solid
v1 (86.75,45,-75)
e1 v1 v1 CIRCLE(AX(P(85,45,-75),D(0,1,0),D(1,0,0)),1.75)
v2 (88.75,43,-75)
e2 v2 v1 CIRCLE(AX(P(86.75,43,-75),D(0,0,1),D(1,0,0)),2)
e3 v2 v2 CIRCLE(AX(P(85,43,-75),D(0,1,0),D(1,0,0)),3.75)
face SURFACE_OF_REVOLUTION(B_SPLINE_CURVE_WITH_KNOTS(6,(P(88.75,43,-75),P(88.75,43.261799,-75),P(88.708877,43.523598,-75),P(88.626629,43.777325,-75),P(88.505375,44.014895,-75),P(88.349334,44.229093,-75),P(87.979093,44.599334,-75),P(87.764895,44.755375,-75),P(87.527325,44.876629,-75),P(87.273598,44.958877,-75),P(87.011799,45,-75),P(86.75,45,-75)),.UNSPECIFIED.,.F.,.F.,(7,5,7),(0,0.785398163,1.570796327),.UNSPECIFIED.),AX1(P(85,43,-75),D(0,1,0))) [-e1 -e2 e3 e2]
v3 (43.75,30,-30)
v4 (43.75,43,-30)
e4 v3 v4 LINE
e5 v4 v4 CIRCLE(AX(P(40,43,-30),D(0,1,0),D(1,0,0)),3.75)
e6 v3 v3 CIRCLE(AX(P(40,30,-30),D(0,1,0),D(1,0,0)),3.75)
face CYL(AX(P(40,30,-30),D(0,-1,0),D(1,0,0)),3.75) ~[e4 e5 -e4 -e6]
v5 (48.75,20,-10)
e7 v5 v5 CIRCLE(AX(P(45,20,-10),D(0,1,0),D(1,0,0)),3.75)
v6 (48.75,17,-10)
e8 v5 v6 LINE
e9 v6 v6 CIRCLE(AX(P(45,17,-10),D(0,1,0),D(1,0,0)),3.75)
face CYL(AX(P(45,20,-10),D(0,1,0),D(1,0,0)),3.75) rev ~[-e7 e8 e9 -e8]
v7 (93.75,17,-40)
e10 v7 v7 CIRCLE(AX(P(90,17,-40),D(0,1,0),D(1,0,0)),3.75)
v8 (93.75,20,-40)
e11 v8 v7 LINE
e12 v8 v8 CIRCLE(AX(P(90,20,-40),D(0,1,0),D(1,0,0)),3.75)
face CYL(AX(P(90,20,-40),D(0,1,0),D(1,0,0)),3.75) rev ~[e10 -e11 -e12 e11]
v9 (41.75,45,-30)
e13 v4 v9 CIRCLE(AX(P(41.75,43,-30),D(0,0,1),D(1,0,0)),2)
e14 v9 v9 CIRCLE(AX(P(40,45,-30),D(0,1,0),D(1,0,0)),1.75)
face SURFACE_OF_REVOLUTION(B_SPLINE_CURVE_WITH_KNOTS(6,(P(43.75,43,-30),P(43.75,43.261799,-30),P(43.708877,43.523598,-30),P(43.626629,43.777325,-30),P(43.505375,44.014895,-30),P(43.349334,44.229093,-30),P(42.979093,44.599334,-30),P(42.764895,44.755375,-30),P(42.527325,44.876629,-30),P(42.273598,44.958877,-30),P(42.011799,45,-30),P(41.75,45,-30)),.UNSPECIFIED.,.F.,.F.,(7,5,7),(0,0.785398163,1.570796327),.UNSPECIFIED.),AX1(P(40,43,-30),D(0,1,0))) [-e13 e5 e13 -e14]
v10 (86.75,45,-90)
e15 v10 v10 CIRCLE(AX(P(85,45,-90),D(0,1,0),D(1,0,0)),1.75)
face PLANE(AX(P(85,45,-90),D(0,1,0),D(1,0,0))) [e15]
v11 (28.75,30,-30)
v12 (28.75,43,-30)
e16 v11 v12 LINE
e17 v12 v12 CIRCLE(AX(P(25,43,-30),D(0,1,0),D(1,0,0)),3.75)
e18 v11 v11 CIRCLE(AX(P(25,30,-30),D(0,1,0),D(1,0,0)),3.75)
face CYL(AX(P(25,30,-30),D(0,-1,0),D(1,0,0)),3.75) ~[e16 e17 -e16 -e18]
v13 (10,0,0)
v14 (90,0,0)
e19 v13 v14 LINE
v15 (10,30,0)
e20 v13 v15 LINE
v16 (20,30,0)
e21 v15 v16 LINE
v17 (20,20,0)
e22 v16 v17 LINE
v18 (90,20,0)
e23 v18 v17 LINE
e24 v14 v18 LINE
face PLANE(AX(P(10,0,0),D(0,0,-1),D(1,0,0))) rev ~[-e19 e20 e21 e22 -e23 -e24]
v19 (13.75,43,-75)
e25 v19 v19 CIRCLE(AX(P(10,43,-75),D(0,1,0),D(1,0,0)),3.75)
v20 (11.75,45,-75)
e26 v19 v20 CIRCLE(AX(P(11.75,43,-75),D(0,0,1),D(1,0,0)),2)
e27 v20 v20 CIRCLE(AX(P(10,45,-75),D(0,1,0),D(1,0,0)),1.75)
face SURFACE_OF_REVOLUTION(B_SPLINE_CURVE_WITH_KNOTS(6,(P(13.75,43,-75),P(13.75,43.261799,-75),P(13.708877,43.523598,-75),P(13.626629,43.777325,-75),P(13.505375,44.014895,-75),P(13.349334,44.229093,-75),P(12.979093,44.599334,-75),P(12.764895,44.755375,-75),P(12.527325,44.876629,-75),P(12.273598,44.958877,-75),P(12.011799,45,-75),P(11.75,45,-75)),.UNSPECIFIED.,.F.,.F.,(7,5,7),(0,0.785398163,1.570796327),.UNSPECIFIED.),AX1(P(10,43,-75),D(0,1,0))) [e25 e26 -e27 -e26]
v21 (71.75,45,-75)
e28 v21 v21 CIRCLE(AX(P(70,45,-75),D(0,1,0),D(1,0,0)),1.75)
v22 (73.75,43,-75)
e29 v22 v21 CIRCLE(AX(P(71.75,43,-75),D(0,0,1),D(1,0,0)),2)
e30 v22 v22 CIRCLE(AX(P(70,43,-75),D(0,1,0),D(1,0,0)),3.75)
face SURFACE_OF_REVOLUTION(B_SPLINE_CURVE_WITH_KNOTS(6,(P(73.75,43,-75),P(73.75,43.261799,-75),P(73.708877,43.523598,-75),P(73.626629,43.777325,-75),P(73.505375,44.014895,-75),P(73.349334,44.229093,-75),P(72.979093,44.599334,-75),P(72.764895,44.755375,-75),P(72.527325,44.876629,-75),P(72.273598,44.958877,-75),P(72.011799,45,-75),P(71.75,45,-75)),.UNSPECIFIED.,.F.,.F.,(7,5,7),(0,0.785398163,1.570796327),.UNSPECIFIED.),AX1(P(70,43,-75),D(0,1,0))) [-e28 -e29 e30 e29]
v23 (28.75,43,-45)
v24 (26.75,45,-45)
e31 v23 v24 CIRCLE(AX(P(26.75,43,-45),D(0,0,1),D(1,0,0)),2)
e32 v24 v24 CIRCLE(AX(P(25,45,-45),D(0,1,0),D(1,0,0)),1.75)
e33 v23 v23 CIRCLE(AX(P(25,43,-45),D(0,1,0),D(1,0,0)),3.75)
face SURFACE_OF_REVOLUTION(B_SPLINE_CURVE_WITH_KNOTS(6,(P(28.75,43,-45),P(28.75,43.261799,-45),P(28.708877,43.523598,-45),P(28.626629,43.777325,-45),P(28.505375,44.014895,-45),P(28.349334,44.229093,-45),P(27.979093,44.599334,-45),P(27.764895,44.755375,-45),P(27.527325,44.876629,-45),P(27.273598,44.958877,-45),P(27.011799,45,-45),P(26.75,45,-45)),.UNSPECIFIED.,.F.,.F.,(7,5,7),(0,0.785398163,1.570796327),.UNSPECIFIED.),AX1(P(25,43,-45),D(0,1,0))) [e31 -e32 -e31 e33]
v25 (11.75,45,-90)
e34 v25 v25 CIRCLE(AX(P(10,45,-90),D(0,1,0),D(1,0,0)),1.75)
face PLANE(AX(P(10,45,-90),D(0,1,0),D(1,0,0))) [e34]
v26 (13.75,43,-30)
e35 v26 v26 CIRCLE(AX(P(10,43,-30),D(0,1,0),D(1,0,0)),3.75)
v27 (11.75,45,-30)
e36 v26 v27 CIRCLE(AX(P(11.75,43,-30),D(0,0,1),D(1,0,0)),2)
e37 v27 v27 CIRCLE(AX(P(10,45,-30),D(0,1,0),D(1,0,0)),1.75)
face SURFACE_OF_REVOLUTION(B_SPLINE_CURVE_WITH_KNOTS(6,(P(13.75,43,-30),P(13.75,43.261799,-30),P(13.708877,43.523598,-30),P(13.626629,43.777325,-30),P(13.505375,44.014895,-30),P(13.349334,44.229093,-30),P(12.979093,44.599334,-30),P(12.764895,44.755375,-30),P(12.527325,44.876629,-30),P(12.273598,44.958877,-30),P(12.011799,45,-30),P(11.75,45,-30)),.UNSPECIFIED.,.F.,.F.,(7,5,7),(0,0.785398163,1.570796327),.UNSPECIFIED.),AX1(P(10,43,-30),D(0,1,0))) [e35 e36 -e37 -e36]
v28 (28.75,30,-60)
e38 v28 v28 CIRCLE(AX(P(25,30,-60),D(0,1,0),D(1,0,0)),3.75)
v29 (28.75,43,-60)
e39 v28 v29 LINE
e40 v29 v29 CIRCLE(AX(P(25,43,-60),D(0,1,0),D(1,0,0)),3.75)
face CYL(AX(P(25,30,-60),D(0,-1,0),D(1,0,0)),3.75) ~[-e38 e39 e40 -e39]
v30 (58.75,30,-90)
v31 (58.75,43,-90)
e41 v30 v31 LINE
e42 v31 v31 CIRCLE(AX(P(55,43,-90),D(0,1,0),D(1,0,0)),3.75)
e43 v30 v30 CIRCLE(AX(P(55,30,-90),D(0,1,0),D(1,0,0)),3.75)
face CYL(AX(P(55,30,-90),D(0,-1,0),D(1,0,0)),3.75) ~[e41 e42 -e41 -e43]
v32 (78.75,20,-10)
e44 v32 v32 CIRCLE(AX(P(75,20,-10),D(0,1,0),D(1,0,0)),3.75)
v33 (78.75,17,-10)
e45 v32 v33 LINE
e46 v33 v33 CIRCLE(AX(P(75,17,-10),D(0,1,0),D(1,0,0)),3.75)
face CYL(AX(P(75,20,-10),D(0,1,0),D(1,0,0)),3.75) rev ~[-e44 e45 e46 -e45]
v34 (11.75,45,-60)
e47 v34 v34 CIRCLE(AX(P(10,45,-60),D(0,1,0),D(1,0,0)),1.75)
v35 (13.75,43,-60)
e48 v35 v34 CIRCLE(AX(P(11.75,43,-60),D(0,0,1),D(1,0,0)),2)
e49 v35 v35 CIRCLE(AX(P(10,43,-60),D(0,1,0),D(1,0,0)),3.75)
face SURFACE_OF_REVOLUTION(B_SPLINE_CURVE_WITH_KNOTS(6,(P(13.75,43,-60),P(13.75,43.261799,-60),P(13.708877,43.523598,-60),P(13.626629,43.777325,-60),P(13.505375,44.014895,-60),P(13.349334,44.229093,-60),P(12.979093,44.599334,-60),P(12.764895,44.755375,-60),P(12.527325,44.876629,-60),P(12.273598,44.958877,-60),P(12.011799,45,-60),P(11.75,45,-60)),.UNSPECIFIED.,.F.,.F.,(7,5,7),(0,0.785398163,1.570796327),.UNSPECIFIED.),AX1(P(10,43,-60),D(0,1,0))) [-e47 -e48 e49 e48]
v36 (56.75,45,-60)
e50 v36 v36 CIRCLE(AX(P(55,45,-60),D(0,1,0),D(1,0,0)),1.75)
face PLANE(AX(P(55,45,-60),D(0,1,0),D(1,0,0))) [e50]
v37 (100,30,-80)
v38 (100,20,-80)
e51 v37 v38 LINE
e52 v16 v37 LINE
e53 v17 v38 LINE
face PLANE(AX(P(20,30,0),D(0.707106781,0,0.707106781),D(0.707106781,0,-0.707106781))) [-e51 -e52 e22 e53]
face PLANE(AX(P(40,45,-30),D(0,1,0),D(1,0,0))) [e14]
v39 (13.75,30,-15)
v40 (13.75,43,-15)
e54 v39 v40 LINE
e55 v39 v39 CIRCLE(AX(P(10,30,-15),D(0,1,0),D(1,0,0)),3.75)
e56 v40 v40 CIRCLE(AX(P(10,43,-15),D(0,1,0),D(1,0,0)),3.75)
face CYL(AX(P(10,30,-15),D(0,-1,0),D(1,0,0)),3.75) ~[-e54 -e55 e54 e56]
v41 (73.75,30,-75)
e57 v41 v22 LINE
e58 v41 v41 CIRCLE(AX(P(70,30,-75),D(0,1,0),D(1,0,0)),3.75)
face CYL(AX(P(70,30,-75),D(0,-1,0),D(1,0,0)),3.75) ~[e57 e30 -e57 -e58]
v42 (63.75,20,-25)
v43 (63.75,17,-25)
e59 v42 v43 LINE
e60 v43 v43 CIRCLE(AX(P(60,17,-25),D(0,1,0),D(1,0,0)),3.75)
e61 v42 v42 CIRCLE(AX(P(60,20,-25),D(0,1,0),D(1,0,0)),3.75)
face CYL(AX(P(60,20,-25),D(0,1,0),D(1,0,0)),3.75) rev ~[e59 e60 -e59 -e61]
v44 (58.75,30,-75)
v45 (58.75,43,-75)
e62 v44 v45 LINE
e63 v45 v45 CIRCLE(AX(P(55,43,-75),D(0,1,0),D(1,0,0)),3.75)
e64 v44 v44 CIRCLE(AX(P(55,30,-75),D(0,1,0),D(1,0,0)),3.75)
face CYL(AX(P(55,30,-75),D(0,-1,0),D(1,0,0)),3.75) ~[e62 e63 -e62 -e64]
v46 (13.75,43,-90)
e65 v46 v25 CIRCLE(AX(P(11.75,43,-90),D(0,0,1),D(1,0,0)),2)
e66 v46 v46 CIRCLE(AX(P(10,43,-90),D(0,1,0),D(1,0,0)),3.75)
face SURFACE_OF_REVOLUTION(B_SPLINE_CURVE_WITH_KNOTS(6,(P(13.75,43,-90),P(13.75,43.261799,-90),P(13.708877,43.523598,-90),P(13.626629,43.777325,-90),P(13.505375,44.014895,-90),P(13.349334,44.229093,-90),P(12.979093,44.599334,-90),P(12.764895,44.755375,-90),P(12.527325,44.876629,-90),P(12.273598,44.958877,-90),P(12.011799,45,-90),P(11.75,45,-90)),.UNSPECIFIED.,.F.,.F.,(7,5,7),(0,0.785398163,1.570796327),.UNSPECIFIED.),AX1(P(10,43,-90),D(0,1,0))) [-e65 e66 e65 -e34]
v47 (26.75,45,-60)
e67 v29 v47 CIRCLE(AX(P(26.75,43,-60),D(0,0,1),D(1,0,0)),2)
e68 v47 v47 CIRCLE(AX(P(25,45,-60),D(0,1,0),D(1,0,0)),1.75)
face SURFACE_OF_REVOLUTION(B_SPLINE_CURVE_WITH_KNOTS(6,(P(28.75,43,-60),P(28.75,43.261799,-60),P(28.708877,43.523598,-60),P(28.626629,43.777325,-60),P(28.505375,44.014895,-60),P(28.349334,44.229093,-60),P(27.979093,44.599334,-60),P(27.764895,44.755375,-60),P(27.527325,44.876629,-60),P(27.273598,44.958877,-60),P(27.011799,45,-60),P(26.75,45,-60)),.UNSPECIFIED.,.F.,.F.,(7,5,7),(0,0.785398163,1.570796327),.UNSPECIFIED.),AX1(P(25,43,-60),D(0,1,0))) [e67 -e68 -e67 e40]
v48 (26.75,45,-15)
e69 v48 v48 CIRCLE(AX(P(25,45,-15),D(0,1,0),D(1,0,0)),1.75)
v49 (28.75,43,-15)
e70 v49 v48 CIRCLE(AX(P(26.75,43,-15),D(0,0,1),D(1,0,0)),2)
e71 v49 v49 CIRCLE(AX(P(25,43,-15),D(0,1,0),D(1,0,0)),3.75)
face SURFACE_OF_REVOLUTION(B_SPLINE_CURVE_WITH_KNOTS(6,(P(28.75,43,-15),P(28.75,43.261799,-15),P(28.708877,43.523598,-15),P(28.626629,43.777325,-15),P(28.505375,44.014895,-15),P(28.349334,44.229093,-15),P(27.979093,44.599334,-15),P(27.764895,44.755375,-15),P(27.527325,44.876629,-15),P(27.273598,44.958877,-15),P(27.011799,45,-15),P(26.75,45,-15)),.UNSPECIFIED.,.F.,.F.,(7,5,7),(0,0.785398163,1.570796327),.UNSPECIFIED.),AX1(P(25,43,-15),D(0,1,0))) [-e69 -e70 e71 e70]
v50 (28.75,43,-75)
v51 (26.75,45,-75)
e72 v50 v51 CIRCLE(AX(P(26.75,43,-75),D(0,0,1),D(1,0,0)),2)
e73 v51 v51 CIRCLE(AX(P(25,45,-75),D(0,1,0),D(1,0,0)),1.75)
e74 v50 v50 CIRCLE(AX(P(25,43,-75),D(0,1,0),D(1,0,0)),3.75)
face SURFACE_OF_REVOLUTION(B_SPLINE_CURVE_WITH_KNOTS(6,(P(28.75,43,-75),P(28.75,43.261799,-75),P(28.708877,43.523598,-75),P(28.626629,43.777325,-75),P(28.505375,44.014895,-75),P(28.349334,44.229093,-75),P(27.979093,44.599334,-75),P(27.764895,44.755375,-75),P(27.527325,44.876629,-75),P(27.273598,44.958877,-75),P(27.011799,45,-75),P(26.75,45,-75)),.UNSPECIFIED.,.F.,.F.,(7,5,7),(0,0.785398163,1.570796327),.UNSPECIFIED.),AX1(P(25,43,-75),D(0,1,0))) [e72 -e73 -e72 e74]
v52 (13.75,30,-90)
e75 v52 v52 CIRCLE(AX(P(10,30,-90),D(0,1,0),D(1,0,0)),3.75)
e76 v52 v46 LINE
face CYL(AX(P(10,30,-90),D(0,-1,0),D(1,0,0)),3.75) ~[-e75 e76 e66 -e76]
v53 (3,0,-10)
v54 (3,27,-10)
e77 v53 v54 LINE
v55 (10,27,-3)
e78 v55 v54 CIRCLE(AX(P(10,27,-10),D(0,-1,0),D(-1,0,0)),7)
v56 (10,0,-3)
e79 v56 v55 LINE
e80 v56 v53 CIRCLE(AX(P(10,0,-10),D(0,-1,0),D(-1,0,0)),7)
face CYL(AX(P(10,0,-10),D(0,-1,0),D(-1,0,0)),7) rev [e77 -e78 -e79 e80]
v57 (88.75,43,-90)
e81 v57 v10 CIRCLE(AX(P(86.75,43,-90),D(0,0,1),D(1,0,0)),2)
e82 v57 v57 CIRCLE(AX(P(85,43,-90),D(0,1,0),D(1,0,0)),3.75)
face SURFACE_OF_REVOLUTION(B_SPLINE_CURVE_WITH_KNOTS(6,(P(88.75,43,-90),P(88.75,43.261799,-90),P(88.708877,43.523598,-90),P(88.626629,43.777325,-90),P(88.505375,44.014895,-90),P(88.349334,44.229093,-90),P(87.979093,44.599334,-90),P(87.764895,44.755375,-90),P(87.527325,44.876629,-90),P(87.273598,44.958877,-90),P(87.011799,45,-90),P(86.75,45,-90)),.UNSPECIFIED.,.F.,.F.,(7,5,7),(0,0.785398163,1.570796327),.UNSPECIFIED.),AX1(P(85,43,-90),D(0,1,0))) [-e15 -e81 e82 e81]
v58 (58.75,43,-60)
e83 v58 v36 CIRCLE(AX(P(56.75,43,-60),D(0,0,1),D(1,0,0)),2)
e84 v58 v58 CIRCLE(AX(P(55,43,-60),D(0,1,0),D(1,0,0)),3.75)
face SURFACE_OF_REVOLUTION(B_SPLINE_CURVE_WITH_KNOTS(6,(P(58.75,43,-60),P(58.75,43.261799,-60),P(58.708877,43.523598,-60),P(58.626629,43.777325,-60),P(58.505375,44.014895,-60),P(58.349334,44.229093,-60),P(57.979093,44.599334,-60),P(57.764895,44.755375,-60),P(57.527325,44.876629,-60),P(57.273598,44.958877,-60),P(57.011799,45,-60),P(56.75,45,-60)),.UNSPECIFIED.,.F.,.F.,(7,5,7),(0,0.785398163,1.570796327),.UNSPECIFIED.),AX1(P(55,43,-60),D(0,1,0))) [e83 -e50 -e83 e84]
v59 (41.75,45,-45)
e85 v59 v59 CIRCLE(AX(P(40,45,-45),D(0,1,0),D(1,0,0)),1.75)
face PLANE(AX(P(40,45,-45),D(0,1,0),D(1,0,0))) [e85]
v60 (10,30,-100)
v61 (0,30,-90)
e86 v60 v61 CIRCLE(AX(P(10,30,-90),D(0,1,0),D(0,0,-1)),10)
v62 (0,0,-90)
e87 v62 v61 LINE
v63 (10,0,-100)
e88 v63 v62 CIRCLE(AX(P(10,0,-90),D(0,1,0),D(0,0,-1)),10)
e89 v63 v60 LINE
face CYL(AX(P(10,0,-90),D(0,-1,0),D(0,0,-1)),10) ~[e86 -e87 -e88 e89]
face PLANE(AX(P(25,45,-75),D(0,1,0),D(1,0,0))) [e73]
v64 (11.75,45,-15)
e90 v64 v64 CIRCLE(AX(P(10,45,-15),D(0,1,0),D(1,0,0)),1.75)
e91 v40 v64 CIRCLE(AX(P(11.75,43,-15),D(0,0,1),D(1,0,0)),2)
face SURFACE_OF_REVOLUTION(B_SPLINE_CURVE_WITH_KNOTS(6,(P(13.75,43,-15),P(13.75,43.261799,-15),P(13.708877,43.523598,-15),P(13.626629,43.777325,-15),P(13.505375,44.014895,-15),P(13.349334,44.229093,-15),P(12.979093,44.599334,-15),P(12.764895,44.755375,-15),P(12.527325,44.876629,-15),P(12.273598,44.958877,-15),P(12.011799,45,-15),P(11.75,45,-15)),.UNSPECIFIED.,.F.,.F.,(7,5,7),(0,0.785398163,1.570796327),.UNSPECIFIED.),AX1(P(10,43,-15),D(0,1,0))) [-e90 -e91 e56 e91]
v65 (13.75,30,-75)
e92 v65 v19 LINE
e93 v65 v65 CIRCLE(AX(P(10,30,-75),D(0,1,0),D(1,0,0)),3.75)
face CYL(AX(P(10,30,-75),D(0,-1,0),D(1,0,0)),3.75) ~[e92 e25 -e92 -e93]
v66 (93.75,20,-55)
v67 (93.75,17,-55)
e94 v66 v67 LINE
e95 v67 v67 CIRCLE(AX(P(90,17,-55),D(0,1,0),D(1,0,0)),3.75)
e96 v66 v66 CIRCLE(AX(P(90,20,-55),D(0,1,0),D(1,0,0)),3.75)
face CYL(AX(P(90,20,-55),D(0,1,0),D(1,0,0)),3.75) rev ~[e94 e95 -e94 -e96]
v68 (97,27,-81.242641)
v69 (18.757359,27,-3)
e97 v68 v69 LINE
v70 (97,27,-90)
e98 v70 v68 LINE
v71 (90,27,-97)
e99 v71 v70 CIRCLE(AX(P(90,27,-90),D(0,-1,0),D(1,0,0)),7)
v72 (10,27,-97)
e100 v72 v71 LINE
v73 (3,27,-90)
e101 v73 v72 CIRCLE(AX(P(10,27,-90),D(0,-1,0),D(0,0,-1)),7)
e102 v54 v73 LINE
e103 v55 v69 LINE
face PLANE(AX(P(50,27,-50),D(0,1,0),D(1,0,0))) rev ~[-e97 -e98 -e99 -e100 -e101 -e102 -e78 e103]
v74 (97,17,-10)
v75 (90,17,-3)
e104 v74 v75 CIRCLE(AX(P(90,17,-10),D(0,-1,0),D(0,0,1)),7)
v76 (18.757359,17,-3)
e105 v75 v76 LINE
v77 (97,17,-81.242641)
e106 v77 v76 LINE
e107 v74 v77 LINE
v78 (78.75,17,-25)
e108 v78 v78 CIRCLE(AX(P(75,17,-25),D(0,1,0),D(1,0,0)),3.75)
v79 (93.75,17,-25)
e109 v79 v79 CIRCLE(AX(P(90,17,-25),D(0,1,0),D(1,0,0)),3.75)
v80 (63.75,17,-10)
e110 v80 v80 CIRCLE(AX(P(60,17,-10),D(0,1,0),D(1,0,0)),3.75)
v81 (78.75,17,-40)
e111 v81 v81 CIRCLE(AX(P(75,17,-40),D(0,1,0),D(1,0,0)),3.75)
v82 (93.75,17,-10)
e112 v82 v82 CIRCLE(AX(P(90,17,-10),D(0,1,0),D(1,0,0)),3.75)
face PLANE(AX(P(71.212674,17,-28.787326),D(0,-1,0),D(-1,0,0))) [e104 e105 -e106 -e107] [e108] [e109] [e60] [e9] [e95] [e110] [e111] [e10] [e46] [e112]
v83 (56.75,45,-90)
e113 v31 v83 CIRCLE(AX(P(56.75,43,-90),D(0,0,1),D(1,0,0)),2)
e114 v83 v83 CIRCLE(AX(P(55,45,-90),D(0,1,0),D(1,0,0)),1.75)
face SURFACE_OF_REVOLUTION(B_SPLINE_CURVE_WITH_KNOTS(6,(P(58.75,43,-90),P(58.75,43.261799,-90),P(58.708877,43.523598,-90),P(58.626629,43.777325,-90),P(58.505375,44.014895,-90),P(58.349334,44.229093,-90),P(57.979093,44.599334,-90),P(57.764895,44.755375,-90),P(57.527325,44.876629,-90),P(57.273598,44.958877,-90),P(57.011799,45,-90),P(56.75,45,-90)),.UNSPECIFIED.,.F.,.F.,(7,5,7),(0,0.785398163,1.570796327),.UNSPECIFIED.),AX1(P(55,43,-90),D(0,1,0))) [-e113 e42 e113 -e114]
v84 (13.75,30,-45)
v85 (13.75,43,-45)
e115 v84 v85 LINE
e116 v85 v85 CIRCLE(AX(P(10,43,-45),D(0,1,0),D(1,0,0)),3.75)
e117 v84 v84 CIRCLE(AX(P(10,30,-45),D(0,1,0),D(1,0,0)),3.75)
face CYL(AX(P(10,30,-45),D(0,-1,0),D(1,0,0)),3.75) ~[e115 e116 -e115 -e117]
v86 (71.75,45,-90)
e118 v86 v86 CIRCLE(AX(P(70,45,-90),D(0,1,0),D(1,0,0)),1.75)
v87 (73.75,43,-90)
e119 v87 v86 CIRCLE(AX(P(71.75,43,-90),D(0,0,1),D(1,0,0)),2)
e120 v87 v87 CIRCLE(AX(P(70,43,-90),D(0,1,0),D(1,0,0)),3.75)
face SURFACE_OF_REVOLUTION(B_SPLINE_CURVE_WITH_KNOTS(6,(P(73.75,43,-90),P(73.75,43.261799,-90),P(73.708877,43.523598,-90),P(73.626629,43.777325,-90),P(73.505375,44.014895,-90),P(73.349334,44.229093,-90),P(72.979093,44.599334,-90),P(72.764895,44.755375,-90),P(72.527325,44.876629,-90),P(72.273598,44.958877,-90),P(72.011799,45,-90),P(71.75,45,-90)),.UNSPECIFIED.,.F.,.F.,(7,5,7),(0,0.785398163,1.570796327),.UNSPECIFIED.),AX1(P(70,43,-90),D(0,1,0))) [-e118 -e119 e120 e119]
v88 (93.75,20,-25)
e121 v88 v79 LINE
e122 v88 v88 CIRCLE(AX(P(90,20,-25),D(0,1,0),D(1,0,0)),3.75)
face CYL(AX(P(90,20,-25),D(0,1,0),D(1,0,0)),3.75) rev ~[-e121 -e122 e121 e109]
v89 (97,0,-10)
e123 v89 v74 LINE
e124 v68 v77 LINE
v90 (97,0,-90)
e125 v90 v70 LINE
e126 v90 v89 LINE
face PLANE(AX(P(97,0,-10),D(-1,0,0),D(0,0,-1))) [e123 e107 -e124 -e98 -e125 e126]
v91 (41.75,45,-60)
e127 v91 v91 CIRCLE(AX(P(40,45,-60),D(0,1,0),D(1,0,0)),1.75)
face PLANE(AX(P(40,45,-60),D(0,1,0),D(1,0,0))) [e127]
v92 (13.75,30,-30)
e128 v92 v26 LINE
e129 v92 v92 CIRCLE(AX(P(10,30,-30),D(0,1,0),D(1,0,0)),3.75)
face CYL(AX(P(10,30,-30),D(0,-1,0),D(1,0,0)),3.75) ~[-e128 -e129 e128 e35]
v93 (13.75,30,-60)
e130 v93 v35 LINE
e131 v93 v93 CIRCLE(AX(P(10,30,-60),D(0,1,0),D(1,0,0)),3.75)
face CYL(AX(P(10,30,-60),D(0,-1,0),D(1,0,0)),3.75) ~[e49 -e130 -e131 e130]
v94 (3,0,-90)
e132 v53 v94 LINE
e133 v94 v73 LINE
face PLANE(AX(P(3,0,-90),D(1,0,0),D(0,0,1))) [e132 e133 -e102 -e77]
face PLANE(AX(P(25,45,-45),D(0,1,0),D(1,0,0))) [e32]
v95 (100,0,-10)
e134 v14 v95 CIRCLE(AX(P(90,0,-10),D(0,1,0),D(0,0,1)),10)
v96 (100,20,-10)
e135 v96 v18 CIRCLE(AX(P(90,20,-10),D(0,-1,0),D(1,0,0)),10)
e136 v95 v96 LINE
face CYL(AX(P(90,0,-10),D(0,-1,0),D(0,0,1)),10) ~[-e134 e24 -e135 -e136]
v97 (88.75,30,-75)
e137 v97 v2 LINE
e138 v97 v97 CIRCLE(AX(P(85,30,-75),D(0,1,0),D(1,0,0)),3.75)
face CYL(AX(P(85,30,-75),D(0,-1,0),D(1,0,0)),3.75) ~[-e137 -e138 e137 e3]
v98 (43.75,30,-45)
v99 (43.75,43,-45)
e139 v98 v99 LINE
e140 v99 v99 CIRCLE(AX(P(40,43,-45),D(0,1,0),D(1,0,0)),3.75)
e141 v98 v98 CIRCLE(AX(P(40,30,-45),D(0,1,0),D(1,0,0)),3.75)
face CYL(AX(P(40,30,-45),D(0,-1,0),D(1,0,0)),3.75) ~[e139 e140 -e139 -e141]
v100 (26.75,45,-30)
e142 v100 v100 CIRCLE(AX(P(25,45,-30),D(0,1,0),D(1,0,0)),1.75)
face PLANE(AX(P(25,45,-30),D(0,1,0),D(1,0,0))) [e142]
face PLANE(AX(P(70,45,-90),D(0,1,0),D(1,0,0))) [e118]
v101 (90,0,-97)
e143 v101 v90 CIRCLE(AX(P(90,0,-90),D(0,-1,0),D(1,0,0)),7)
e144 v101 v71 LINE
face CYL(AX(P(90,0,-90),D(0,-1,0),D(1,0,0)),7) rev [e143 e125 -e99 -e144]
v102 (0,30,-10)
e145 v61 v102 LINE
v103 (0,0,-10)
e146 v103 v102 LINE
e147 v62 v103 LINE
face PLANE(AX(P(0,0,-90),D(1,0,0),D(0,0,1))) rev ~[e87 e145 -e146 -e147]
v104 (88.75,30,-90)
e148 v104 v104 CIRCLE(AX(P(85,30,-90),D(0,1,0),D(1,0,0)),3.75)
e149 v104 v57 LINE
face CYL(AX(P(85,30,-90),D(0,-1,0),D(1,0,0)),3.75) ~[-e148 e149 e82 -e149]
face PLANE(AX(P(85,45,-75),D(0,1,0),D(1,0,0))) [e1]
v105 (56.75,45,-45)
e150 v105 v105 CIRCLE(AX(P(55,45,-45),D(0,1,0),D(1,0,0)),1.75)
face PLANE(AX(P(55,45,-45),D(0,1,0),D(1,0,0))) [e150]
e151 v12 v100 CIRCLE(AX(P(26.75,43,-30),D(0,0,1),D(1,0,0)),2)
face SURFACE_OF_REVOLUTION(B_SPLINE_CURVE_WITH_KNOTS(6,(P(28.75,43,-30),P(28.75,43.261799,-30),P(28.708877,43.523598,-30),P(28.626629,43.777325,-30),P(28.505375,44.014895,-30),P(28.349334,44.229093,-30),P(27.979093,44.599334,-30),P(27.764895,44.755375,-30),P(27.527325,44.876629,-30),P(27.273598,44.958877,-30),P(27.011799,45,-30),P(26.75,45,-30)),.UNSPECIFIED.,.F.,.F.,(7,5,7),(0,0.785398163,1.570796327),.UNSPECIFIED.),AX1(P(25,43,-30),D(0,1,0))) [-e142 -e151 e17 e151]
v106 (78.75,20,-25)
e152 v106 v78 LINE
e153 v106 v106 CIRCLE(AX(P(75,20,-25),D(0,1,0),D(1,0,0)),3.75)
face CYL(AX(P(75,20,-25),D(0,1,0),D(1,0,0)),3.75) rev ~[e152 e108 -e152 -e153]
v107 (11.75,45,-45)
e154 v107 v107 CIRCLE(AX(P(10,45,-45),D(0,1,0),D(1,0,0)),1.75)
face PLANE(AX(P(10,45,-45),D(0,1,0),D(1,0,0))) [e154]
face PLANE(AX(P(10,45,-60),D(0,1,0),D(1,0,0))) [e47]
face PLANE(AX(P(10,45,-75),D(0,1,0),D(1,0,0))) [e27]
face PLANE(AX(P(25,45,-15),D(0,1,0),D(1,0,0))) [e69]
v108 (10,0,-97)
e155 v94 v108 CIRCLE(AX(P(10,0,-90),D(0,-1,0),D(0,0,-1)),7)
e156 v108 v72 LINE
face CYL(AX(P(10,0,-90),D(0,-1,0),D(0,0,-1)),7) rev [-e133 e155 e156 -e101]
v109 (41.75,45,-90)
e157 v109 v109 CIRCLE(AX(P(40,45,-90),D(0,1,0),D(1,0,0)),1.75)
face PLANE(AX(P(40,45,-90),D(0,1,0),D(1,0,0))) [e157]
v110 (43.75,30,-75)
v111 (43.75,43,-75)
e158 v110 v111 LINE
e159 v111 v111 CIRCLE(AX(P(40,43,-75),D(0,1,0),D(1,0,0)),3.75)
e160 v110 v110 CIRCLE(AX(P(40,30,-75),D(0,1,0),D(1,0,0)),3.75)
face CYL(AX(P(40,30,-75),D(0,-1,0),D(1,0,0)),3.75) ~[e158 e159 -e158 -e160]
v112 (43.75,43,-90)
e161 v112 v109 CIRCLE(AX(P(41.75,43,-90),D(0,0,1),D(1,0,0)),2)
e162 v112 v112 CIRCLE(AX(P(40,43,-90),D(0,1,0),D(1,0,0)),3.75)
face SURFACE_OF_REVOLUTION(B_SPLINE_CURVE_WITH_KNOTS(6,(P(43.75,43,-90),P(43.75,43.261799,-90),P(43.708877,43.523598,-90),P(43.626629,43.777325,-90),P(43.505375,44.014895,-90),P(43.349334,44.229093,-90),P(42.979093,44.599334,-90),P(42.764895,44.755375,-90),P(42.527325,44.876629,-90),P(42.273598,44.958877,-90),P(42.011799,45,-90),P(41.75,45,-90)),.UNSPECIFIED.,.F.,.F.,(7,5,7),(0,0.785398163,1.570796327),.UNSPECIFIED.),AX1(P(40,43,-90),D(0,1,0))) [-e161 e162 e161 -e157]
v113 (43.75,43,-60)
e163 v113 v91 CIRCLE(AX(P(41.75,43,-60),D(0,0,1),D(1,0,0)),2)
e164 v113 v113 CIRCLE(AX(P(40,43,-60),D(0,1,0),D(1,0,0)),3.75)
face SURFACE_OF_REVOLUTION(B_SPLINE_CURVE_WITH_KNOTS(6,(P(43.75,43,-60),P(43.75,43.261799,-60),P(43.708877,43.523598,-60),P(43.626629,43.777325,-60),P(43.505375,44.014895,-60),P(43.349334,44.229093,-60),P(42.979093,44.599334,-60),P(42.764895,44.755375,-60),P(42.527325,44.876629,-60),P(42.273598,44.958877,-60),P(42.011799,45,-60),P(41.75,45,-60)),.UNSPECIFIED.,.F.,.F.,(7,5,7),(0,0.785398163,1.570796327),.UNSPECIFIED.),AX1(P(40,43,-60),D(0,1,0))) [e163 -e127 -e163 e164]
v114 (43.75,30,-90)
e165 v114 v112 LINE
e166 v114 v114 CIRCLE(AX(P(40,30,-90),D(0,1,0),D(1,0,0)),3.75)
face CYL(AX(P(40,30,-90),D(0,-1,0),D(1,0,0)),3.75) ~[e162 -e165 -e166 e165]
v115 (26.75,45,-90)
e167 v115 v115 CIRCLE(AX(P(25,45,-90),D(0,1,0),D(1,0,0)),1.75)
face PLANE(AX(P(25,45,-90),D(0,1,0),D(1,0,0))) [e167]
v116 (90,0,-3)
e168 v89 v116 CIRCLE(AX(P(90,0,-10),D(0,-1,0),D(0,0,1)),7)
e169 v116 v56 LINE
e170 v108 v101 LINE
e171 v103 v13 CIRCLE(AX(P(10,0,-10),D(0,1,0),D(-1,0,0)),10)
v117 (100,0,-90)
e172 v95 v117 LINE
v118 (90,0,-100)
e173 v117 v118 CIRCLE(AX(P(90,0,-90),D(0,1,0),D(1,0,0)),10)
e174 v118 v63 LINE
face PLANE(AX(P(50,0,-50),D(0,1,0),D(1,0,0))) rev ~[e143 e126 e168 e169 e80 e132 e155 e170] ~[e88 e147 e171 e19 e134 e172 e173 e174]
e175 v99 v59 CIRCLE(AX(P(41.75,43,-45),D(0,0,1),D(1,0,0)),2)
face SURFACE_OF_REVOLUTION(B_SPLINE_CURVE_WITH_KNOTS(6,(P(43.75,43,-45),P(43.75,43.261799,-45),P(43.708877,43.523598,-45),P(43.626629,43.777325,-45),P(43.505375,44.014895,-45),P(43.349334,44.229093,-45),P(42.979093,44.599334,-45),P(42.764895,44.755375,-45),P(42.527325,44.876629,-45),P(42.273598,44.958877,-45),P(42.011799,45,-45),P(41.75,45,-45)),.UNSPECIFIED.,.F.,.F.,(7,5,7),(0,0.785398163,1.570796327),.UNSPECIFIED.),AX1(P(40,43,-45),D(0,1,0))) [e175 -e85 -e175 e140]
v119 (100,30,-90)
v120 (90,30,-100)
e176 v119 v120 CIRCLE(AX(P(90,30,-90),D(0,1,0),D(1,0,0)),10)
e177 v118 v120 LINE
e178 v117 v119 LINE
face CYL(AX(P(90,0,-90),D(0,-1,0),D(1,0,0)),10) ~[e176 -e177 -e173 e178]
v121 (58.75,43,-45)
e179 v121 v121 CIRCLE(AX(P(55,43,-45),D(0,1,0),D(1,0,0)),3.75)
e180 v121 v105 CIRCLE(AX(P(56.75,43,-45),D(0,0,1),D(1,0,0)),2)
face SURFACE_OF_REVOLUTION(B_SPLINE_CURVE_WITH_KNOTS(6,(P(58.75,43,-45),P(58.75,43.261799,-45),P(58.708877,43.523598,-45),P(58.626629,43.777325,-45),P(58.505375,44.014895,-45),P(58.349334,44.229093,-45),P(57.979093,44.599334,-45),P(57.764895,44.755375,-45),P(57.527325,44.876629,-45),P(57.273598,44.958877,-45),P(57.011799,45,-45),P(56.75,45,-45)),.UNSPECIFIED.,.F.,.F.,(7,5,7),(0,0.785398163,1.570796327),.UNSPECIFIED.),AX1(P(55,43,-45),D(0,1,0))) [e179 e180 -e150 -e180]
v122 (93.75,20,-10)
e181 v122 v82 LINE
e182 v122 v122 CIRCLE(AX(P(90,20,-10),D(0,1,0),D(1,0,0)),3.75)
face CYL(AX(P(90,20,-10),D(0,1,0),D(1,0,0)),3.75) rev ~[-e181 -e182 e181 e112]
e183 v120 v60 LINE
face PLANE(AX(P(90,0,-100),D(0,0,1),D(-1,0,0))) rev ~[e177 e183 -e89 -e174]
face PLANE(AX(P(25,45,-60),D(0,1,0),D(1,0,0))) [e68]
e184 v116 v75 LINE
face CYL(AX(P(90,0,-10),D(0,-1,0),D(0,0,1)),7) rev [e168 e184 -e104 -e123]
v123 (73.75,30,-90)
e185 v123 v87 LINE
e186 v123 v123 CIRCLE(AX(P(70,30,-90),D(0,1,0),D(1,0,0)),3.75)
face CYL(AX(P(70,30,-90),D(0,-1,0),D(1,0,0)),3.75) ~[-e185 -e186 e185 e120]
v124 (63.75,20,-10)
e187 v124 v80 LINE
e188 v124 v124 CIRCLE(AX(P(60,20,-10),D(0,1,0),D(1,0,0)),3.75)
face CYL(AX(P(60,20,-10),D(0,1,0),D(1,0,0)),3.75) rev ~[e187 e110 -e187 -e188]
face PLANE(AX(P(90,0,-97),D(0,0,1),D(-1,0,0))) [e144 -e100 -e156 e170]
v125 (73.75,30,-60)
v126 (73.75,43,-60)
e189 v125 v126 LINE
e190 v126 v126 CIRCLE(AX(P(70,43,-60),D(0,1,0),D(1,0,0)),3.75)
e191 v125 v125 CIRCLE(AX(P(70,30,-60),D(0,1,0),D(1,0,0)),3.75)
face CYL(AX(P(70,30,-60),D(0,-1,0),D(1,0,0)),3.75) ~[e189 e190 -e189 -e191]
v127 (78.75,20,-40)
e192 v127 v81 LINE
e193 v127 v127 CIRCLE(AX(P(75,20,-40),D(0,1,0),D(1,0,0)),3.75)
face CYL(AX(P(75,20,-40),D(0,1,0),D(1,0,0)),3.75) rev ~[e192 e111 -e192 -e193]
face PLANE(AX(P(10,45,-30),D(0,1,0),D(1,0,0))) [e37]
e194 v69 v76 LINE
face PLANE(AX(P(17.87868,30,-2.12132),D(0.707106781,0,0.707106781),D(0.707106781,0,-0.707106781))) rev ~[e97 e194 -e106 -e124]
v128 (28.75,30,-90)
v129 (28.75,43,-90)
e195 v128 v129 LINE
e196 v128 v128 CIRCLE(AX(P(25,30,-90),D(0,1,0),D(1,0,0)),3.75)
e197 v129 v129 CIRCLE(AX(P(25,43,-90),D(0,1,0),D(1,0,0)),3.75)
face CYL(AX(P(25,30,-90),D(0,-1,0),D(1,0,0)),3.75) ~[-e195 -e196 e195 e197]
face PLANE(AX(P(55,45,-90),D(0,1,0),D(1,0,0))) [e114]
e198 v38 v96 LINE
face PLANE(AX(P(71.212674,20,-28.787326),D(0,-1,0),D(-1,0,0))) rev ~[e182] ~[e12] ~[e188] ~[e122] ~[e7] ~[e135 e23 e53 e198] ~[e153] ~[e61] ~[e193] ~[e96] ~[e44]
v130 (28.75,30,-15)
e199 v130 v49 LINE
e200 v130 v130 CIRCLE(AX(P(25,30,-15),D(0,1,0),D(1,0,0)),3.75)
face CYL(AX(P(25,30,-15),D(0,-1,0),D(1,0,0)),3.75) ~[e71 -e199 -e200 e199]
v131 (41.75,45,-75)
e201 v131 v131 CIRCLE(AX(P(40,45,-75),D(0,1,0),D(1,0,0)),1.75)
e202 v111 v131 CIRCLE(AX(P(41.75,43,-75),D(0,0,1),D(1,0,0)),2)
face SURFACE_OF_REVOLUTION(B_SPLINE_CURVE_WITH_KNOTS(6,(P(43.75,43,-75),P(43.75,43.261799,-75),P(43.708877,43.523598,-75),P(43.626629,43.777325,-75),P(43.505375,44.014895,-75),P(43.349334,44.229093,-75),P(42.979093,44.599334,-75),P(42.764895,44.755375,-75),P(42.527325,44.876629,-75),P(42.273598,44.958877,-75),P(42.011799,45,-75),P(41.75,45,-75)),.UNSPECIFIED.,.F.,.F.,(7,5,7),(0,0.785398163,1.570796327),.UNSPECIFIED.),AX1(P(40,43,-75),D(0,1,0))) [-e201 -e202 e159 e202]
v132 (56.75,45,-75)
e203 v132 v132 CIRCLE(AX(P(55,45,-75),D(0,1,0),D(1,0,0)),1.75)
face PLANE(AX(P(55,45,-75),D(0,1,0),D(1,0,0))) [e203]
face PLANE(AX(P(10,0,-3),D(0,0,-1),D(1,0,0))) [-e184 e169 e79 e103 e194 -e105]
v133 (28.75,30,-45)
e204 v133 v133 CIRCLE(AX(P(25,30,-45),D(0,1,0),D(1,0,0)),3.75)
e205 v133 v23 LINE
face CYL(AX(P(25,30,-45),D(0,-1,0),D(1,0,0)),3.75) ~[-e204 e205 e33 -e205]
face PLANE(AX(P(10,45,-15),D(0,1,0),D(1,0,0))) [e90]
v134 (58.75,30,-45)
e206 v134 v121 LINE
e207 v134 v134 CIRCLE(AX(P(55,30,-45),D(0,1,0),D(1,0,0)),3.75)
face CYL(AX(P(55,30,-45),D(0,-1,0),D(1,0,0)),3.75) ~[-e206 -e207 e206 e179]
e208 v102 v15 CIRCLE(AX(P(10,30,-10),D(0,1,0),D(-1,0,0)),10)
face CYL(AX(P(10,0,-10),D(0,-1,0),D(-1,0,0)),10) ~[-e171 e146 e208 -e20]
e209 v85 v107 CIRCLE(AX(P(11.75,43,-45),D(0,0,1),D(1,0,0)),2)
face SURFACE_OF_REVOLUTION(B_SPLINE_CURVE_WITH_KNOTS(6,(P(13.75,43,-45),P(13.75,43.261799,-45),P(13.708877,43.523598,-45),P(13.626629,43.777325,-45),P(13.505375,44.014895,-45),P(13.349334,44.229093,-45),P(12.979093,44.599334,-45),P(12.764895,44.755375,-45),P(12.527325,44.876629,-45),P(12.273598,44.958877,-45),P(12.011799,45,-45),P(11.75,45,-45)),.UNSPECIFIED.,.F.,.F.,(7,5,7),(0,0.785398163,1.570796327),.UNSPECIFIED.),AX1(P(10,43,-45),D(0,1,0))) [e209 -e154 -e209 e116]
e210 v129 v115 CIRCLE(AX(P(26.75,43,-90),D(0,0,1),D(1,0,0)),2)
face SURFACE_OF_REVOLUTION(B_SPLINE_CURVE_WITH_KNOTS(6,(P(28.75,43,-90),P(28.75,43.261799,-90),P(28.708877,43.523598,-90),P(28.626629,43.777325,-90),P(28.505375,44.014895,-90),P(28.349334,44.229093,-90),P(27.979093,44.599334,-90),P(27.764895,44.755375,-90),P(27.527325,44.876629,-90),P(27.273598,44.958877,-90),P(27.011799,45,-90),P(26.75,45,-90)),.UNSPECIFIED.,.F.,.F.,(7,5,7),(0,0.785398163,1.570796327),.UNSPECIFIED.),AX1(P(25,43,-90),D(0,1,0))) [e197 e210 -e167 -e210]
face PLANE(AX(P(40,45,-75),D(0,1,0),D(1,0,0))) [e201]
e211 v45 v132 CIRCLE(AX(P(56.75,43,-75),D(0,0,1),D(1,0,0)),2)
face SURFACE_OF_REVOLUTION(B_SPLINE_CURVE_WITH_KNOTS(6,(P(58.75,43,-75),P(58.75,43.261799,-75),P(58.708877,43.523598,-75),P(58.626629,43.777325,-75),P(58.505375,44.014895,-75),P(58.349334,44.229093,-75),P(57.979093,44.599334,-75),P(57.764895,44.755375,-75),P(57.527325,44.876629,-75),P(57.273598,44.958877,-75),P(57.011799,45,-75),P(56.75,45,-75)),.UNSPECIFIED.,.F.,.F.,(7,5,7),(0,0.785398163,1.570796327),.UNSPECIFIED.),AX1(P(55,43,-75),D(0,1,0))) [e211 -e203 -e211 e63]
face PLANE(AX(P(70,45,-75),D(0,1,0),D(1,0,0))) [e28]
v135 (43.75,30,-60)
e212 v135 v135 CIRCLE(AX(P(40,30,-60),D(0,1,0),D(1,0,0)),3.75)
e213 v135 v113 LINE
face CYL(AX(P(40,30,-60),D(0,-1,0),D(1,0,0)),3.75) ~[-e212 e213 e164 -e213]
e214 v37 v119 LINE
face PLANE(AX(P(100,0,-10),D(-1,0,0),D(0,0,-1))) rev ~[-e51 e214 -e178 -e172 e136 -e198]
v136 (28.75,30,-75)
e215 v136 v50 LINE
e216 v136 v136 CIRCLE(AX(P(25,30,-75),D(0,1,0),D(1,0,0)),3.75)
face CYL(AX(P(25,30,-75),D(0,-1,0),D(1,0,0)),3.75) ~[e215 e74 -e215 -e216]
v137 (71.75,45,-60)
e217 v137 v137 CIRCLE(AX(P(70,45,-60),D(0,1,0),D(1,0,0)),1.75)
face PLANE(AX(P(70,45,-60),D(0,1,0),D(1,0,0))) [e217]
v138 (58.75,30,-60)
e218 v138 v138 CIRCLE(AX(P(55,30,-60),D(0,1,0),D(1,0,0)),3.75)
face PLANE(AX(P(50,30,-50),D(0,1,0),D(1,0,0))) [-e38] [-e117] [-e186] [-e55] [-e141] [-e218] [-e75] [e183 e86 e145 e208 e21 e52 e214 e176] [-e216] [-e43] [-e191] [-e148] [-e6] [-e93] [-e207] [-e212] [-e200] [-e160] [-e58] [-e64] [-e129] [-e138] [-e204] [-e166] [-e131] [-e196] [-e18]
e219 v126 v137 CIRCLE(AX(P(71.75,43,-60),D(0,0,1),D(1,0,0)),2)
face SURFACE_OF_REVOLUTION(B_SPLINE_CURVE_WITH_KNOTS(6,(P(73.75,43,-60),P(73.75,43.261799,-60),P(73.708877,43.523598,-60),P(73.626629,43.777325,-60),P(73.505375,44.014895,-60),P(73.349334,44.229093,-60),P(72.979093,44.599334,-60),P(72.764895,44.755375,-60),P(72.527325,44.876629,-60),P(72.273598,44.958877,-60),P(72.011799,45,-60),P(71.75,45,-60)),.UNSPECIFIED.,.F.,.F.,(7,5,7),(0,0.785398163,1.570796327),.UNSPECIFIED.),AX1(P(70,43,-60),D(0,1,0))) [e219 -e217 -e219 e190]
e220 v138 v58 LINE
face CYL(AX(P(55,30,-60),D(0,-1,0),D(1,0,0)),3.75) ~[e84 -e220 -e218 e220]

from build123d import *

# Parameters (mm, degrees)
BOSS_EXTRUDE1_DEPTH    = 30
CUT_EXTRUDE1_DEPTH     = 10
SHELL1_T               = -3
SKETCH7_R              = 3.75
CUT_EXTRUDE2_DEPTH     = 10
LPATTERN1_COUNT        = 4
LPATTERN1_PITCH        = 15
LPATTERN1_COUNT_DIR2   = 4
LPATTERN1_PITCH_DIR2   = 15
SKETCH8_R              = 3.75
BOSS_EXTRUDE5_DEPTH    = 15
FILLET1_R              = 2
LPATTERN5_COUNT        = 6
LPATTERN5_PITCH        = 15
LPATTERN5_COUNT_DIR2   = 6
LPATTERN5_PITCH_DIR2   = 15
FILLET1_OF_LPATTERN5_R = 2


with BuildPart() as part:
    # Sketch1 → Boss-Extrude1 (new body)
    with BuildSketch(Plane(origin=(0, 0, 0), x_dir=(1, 0, 0), z_dir=(0, 1, 0))):
        with BuildLine():
            Line((10, 0), (90, 0))
            ThreePointArc((90, 0), (97.071067812, 2.928932188), (100, 10))
            Line((100, 10), (100, 90))
            ThreePointArc((100, 90), (97.071067812, 97.071067812), (90, 100))
            Line((90, 100), (10, 100))
            ThreePointArc((10, 100), (2.928932188, 97.071067812), (0, 90))
            Line((0, 90), (0, 10))
            ThreePointArc((0, 10), (2.928932188, 2.928932188), (10, 0))
        make_face()
    extrude(amount=BOSS_EXTRUDE1_DEPTH)

    # Sketch2 → Cut-Extrude1 (cut)
    with BuildSketch(Plane(origin=(0, 30, 0), x_dir=(1, 0, 0), z_dir=(0, 1, 0))):
        with BuildLine():
            Line((20, 0), (100, 80))
            Line((100, 80), (100, 10))
            ThreePointArc((100, 10), (97.071067812, 2.928932188), (90, 0))
            Line((90, 0), (20, 0))
        make_face()
    extrude(amount=-CUT_EXTRUDE1_DEPTH, mode=Mode.SUBTRACT)

    # Shell1
    shell1_openings = [part.faces().sort_by_distance(p)[0] for p in [
        (50, 0, -50),
    ]]
    offset(amount=SHELL1_T, openings=shell1_openings, kind=Kind.INTERSECTION)

    # Sketch7 → Cut-Extrude2 (cut)
    with BuildSketch(Plane(origin=(0, 20, 0), x_dir=(1, 0, 0), z_dir=(0, 1, 0))):
        with Locations((90, 10)):
            Circle(SKETCH7_R)
    cut_extrude2 = extrude(amount=-CUT_EXTRUDE2_DEPTH, mode=Mode.SUBTRACT)

    # LPattern1: Cut-Extrude2 4 × 4, 6 skipped
    with Locations(*[(-j * LPATTERN1_PITCH_DIR2, 0, -i * LPATTERN1_PITCH) for i in range(LPATTERN1_COUNT) for j in range(LPATTERN1_COUNT_DIR2) if (i, j) not in ((0, 0), (1, 3), (2, 2), (2, 3), (3, 1), (3, 2), (3, 3))]):
        add(cut_extrude2, mode=Mode.SUBTRACT)

    # Sketch8 → Boss-Extrude5 (add)
    with BuildSketch(Plane(origin=(0, 30, 0), x_dir=(1, 0, 0), z_dir=(0, 1, 0))):
        with Locations((10, 90)):
            Circle(SKETCH8_R)
    boss_extrude5 = extrude(amount=BOSS_EXTRUDE5_DEPTH)

    # Fillet1
    fillet1_edges = [part.edges().sort_by_distance(p)[0] for p in [
        (6.25, 45, -90),
    ]]
    fillet(fillet1_edges, radius=FILLET1_R)

    # LPattern5: Boss-Extrude5 6 × 6, 10 skipped
    with Locations(*[(i * LPATTERN5_PITCH, 0, j * LPATTERN5_PITCH_DIR2) for i in range(LPATTERN5_COUNT) for j in range(LPATTERN5_COUNT_DIR2) if (i, j) not in ((0, 0), (2, 5), (3, 4), (3, 5), (4, 3), (4, 4), (4, 5), (5, 2), (5, 3), (5, 4), (5, 5))]):
        add(boss_extrude5)

    # Fillet1 of LPattern5
    fillet1_of_lpattern5_edges = [part.edges().sort_by_distance(p)[0] for p in [
        (6.25, 45, -75),
        (6.25, 45, -60),
        (6.25, 45, -45),
        (6.25, 45, -30),
        (6.25, 45, -15),
        (21.25, 45, -90),
        (21.25, 45, -75),
        (21.25, 45, -60),
        (21.25, 45, -45),
        (21.25, 45, -30),
        (21.25, 45, -15),
        (36.25, 45, -90),
        (36.25, 45, -75),
        (36.25, 45, -60),
        (36.25, 45, -45),
        (36.25, 45, -30),
        (51.25, 45, -90),
        (51.25, 45, -75),
        (51.25, 45, -60),
        (51.25, 45, -45),
        (66.25, 45, -90),
        (66.25, 45, -75),
        (66.25, 45, -60),
        (81.25, 45, -90),
        (81.25, 45, -75),
    ]]
    fillet(fillet1_of_lpattern5_edges, radius=FILLET1_OF_LPATTERN5_R)


solid = part.part
